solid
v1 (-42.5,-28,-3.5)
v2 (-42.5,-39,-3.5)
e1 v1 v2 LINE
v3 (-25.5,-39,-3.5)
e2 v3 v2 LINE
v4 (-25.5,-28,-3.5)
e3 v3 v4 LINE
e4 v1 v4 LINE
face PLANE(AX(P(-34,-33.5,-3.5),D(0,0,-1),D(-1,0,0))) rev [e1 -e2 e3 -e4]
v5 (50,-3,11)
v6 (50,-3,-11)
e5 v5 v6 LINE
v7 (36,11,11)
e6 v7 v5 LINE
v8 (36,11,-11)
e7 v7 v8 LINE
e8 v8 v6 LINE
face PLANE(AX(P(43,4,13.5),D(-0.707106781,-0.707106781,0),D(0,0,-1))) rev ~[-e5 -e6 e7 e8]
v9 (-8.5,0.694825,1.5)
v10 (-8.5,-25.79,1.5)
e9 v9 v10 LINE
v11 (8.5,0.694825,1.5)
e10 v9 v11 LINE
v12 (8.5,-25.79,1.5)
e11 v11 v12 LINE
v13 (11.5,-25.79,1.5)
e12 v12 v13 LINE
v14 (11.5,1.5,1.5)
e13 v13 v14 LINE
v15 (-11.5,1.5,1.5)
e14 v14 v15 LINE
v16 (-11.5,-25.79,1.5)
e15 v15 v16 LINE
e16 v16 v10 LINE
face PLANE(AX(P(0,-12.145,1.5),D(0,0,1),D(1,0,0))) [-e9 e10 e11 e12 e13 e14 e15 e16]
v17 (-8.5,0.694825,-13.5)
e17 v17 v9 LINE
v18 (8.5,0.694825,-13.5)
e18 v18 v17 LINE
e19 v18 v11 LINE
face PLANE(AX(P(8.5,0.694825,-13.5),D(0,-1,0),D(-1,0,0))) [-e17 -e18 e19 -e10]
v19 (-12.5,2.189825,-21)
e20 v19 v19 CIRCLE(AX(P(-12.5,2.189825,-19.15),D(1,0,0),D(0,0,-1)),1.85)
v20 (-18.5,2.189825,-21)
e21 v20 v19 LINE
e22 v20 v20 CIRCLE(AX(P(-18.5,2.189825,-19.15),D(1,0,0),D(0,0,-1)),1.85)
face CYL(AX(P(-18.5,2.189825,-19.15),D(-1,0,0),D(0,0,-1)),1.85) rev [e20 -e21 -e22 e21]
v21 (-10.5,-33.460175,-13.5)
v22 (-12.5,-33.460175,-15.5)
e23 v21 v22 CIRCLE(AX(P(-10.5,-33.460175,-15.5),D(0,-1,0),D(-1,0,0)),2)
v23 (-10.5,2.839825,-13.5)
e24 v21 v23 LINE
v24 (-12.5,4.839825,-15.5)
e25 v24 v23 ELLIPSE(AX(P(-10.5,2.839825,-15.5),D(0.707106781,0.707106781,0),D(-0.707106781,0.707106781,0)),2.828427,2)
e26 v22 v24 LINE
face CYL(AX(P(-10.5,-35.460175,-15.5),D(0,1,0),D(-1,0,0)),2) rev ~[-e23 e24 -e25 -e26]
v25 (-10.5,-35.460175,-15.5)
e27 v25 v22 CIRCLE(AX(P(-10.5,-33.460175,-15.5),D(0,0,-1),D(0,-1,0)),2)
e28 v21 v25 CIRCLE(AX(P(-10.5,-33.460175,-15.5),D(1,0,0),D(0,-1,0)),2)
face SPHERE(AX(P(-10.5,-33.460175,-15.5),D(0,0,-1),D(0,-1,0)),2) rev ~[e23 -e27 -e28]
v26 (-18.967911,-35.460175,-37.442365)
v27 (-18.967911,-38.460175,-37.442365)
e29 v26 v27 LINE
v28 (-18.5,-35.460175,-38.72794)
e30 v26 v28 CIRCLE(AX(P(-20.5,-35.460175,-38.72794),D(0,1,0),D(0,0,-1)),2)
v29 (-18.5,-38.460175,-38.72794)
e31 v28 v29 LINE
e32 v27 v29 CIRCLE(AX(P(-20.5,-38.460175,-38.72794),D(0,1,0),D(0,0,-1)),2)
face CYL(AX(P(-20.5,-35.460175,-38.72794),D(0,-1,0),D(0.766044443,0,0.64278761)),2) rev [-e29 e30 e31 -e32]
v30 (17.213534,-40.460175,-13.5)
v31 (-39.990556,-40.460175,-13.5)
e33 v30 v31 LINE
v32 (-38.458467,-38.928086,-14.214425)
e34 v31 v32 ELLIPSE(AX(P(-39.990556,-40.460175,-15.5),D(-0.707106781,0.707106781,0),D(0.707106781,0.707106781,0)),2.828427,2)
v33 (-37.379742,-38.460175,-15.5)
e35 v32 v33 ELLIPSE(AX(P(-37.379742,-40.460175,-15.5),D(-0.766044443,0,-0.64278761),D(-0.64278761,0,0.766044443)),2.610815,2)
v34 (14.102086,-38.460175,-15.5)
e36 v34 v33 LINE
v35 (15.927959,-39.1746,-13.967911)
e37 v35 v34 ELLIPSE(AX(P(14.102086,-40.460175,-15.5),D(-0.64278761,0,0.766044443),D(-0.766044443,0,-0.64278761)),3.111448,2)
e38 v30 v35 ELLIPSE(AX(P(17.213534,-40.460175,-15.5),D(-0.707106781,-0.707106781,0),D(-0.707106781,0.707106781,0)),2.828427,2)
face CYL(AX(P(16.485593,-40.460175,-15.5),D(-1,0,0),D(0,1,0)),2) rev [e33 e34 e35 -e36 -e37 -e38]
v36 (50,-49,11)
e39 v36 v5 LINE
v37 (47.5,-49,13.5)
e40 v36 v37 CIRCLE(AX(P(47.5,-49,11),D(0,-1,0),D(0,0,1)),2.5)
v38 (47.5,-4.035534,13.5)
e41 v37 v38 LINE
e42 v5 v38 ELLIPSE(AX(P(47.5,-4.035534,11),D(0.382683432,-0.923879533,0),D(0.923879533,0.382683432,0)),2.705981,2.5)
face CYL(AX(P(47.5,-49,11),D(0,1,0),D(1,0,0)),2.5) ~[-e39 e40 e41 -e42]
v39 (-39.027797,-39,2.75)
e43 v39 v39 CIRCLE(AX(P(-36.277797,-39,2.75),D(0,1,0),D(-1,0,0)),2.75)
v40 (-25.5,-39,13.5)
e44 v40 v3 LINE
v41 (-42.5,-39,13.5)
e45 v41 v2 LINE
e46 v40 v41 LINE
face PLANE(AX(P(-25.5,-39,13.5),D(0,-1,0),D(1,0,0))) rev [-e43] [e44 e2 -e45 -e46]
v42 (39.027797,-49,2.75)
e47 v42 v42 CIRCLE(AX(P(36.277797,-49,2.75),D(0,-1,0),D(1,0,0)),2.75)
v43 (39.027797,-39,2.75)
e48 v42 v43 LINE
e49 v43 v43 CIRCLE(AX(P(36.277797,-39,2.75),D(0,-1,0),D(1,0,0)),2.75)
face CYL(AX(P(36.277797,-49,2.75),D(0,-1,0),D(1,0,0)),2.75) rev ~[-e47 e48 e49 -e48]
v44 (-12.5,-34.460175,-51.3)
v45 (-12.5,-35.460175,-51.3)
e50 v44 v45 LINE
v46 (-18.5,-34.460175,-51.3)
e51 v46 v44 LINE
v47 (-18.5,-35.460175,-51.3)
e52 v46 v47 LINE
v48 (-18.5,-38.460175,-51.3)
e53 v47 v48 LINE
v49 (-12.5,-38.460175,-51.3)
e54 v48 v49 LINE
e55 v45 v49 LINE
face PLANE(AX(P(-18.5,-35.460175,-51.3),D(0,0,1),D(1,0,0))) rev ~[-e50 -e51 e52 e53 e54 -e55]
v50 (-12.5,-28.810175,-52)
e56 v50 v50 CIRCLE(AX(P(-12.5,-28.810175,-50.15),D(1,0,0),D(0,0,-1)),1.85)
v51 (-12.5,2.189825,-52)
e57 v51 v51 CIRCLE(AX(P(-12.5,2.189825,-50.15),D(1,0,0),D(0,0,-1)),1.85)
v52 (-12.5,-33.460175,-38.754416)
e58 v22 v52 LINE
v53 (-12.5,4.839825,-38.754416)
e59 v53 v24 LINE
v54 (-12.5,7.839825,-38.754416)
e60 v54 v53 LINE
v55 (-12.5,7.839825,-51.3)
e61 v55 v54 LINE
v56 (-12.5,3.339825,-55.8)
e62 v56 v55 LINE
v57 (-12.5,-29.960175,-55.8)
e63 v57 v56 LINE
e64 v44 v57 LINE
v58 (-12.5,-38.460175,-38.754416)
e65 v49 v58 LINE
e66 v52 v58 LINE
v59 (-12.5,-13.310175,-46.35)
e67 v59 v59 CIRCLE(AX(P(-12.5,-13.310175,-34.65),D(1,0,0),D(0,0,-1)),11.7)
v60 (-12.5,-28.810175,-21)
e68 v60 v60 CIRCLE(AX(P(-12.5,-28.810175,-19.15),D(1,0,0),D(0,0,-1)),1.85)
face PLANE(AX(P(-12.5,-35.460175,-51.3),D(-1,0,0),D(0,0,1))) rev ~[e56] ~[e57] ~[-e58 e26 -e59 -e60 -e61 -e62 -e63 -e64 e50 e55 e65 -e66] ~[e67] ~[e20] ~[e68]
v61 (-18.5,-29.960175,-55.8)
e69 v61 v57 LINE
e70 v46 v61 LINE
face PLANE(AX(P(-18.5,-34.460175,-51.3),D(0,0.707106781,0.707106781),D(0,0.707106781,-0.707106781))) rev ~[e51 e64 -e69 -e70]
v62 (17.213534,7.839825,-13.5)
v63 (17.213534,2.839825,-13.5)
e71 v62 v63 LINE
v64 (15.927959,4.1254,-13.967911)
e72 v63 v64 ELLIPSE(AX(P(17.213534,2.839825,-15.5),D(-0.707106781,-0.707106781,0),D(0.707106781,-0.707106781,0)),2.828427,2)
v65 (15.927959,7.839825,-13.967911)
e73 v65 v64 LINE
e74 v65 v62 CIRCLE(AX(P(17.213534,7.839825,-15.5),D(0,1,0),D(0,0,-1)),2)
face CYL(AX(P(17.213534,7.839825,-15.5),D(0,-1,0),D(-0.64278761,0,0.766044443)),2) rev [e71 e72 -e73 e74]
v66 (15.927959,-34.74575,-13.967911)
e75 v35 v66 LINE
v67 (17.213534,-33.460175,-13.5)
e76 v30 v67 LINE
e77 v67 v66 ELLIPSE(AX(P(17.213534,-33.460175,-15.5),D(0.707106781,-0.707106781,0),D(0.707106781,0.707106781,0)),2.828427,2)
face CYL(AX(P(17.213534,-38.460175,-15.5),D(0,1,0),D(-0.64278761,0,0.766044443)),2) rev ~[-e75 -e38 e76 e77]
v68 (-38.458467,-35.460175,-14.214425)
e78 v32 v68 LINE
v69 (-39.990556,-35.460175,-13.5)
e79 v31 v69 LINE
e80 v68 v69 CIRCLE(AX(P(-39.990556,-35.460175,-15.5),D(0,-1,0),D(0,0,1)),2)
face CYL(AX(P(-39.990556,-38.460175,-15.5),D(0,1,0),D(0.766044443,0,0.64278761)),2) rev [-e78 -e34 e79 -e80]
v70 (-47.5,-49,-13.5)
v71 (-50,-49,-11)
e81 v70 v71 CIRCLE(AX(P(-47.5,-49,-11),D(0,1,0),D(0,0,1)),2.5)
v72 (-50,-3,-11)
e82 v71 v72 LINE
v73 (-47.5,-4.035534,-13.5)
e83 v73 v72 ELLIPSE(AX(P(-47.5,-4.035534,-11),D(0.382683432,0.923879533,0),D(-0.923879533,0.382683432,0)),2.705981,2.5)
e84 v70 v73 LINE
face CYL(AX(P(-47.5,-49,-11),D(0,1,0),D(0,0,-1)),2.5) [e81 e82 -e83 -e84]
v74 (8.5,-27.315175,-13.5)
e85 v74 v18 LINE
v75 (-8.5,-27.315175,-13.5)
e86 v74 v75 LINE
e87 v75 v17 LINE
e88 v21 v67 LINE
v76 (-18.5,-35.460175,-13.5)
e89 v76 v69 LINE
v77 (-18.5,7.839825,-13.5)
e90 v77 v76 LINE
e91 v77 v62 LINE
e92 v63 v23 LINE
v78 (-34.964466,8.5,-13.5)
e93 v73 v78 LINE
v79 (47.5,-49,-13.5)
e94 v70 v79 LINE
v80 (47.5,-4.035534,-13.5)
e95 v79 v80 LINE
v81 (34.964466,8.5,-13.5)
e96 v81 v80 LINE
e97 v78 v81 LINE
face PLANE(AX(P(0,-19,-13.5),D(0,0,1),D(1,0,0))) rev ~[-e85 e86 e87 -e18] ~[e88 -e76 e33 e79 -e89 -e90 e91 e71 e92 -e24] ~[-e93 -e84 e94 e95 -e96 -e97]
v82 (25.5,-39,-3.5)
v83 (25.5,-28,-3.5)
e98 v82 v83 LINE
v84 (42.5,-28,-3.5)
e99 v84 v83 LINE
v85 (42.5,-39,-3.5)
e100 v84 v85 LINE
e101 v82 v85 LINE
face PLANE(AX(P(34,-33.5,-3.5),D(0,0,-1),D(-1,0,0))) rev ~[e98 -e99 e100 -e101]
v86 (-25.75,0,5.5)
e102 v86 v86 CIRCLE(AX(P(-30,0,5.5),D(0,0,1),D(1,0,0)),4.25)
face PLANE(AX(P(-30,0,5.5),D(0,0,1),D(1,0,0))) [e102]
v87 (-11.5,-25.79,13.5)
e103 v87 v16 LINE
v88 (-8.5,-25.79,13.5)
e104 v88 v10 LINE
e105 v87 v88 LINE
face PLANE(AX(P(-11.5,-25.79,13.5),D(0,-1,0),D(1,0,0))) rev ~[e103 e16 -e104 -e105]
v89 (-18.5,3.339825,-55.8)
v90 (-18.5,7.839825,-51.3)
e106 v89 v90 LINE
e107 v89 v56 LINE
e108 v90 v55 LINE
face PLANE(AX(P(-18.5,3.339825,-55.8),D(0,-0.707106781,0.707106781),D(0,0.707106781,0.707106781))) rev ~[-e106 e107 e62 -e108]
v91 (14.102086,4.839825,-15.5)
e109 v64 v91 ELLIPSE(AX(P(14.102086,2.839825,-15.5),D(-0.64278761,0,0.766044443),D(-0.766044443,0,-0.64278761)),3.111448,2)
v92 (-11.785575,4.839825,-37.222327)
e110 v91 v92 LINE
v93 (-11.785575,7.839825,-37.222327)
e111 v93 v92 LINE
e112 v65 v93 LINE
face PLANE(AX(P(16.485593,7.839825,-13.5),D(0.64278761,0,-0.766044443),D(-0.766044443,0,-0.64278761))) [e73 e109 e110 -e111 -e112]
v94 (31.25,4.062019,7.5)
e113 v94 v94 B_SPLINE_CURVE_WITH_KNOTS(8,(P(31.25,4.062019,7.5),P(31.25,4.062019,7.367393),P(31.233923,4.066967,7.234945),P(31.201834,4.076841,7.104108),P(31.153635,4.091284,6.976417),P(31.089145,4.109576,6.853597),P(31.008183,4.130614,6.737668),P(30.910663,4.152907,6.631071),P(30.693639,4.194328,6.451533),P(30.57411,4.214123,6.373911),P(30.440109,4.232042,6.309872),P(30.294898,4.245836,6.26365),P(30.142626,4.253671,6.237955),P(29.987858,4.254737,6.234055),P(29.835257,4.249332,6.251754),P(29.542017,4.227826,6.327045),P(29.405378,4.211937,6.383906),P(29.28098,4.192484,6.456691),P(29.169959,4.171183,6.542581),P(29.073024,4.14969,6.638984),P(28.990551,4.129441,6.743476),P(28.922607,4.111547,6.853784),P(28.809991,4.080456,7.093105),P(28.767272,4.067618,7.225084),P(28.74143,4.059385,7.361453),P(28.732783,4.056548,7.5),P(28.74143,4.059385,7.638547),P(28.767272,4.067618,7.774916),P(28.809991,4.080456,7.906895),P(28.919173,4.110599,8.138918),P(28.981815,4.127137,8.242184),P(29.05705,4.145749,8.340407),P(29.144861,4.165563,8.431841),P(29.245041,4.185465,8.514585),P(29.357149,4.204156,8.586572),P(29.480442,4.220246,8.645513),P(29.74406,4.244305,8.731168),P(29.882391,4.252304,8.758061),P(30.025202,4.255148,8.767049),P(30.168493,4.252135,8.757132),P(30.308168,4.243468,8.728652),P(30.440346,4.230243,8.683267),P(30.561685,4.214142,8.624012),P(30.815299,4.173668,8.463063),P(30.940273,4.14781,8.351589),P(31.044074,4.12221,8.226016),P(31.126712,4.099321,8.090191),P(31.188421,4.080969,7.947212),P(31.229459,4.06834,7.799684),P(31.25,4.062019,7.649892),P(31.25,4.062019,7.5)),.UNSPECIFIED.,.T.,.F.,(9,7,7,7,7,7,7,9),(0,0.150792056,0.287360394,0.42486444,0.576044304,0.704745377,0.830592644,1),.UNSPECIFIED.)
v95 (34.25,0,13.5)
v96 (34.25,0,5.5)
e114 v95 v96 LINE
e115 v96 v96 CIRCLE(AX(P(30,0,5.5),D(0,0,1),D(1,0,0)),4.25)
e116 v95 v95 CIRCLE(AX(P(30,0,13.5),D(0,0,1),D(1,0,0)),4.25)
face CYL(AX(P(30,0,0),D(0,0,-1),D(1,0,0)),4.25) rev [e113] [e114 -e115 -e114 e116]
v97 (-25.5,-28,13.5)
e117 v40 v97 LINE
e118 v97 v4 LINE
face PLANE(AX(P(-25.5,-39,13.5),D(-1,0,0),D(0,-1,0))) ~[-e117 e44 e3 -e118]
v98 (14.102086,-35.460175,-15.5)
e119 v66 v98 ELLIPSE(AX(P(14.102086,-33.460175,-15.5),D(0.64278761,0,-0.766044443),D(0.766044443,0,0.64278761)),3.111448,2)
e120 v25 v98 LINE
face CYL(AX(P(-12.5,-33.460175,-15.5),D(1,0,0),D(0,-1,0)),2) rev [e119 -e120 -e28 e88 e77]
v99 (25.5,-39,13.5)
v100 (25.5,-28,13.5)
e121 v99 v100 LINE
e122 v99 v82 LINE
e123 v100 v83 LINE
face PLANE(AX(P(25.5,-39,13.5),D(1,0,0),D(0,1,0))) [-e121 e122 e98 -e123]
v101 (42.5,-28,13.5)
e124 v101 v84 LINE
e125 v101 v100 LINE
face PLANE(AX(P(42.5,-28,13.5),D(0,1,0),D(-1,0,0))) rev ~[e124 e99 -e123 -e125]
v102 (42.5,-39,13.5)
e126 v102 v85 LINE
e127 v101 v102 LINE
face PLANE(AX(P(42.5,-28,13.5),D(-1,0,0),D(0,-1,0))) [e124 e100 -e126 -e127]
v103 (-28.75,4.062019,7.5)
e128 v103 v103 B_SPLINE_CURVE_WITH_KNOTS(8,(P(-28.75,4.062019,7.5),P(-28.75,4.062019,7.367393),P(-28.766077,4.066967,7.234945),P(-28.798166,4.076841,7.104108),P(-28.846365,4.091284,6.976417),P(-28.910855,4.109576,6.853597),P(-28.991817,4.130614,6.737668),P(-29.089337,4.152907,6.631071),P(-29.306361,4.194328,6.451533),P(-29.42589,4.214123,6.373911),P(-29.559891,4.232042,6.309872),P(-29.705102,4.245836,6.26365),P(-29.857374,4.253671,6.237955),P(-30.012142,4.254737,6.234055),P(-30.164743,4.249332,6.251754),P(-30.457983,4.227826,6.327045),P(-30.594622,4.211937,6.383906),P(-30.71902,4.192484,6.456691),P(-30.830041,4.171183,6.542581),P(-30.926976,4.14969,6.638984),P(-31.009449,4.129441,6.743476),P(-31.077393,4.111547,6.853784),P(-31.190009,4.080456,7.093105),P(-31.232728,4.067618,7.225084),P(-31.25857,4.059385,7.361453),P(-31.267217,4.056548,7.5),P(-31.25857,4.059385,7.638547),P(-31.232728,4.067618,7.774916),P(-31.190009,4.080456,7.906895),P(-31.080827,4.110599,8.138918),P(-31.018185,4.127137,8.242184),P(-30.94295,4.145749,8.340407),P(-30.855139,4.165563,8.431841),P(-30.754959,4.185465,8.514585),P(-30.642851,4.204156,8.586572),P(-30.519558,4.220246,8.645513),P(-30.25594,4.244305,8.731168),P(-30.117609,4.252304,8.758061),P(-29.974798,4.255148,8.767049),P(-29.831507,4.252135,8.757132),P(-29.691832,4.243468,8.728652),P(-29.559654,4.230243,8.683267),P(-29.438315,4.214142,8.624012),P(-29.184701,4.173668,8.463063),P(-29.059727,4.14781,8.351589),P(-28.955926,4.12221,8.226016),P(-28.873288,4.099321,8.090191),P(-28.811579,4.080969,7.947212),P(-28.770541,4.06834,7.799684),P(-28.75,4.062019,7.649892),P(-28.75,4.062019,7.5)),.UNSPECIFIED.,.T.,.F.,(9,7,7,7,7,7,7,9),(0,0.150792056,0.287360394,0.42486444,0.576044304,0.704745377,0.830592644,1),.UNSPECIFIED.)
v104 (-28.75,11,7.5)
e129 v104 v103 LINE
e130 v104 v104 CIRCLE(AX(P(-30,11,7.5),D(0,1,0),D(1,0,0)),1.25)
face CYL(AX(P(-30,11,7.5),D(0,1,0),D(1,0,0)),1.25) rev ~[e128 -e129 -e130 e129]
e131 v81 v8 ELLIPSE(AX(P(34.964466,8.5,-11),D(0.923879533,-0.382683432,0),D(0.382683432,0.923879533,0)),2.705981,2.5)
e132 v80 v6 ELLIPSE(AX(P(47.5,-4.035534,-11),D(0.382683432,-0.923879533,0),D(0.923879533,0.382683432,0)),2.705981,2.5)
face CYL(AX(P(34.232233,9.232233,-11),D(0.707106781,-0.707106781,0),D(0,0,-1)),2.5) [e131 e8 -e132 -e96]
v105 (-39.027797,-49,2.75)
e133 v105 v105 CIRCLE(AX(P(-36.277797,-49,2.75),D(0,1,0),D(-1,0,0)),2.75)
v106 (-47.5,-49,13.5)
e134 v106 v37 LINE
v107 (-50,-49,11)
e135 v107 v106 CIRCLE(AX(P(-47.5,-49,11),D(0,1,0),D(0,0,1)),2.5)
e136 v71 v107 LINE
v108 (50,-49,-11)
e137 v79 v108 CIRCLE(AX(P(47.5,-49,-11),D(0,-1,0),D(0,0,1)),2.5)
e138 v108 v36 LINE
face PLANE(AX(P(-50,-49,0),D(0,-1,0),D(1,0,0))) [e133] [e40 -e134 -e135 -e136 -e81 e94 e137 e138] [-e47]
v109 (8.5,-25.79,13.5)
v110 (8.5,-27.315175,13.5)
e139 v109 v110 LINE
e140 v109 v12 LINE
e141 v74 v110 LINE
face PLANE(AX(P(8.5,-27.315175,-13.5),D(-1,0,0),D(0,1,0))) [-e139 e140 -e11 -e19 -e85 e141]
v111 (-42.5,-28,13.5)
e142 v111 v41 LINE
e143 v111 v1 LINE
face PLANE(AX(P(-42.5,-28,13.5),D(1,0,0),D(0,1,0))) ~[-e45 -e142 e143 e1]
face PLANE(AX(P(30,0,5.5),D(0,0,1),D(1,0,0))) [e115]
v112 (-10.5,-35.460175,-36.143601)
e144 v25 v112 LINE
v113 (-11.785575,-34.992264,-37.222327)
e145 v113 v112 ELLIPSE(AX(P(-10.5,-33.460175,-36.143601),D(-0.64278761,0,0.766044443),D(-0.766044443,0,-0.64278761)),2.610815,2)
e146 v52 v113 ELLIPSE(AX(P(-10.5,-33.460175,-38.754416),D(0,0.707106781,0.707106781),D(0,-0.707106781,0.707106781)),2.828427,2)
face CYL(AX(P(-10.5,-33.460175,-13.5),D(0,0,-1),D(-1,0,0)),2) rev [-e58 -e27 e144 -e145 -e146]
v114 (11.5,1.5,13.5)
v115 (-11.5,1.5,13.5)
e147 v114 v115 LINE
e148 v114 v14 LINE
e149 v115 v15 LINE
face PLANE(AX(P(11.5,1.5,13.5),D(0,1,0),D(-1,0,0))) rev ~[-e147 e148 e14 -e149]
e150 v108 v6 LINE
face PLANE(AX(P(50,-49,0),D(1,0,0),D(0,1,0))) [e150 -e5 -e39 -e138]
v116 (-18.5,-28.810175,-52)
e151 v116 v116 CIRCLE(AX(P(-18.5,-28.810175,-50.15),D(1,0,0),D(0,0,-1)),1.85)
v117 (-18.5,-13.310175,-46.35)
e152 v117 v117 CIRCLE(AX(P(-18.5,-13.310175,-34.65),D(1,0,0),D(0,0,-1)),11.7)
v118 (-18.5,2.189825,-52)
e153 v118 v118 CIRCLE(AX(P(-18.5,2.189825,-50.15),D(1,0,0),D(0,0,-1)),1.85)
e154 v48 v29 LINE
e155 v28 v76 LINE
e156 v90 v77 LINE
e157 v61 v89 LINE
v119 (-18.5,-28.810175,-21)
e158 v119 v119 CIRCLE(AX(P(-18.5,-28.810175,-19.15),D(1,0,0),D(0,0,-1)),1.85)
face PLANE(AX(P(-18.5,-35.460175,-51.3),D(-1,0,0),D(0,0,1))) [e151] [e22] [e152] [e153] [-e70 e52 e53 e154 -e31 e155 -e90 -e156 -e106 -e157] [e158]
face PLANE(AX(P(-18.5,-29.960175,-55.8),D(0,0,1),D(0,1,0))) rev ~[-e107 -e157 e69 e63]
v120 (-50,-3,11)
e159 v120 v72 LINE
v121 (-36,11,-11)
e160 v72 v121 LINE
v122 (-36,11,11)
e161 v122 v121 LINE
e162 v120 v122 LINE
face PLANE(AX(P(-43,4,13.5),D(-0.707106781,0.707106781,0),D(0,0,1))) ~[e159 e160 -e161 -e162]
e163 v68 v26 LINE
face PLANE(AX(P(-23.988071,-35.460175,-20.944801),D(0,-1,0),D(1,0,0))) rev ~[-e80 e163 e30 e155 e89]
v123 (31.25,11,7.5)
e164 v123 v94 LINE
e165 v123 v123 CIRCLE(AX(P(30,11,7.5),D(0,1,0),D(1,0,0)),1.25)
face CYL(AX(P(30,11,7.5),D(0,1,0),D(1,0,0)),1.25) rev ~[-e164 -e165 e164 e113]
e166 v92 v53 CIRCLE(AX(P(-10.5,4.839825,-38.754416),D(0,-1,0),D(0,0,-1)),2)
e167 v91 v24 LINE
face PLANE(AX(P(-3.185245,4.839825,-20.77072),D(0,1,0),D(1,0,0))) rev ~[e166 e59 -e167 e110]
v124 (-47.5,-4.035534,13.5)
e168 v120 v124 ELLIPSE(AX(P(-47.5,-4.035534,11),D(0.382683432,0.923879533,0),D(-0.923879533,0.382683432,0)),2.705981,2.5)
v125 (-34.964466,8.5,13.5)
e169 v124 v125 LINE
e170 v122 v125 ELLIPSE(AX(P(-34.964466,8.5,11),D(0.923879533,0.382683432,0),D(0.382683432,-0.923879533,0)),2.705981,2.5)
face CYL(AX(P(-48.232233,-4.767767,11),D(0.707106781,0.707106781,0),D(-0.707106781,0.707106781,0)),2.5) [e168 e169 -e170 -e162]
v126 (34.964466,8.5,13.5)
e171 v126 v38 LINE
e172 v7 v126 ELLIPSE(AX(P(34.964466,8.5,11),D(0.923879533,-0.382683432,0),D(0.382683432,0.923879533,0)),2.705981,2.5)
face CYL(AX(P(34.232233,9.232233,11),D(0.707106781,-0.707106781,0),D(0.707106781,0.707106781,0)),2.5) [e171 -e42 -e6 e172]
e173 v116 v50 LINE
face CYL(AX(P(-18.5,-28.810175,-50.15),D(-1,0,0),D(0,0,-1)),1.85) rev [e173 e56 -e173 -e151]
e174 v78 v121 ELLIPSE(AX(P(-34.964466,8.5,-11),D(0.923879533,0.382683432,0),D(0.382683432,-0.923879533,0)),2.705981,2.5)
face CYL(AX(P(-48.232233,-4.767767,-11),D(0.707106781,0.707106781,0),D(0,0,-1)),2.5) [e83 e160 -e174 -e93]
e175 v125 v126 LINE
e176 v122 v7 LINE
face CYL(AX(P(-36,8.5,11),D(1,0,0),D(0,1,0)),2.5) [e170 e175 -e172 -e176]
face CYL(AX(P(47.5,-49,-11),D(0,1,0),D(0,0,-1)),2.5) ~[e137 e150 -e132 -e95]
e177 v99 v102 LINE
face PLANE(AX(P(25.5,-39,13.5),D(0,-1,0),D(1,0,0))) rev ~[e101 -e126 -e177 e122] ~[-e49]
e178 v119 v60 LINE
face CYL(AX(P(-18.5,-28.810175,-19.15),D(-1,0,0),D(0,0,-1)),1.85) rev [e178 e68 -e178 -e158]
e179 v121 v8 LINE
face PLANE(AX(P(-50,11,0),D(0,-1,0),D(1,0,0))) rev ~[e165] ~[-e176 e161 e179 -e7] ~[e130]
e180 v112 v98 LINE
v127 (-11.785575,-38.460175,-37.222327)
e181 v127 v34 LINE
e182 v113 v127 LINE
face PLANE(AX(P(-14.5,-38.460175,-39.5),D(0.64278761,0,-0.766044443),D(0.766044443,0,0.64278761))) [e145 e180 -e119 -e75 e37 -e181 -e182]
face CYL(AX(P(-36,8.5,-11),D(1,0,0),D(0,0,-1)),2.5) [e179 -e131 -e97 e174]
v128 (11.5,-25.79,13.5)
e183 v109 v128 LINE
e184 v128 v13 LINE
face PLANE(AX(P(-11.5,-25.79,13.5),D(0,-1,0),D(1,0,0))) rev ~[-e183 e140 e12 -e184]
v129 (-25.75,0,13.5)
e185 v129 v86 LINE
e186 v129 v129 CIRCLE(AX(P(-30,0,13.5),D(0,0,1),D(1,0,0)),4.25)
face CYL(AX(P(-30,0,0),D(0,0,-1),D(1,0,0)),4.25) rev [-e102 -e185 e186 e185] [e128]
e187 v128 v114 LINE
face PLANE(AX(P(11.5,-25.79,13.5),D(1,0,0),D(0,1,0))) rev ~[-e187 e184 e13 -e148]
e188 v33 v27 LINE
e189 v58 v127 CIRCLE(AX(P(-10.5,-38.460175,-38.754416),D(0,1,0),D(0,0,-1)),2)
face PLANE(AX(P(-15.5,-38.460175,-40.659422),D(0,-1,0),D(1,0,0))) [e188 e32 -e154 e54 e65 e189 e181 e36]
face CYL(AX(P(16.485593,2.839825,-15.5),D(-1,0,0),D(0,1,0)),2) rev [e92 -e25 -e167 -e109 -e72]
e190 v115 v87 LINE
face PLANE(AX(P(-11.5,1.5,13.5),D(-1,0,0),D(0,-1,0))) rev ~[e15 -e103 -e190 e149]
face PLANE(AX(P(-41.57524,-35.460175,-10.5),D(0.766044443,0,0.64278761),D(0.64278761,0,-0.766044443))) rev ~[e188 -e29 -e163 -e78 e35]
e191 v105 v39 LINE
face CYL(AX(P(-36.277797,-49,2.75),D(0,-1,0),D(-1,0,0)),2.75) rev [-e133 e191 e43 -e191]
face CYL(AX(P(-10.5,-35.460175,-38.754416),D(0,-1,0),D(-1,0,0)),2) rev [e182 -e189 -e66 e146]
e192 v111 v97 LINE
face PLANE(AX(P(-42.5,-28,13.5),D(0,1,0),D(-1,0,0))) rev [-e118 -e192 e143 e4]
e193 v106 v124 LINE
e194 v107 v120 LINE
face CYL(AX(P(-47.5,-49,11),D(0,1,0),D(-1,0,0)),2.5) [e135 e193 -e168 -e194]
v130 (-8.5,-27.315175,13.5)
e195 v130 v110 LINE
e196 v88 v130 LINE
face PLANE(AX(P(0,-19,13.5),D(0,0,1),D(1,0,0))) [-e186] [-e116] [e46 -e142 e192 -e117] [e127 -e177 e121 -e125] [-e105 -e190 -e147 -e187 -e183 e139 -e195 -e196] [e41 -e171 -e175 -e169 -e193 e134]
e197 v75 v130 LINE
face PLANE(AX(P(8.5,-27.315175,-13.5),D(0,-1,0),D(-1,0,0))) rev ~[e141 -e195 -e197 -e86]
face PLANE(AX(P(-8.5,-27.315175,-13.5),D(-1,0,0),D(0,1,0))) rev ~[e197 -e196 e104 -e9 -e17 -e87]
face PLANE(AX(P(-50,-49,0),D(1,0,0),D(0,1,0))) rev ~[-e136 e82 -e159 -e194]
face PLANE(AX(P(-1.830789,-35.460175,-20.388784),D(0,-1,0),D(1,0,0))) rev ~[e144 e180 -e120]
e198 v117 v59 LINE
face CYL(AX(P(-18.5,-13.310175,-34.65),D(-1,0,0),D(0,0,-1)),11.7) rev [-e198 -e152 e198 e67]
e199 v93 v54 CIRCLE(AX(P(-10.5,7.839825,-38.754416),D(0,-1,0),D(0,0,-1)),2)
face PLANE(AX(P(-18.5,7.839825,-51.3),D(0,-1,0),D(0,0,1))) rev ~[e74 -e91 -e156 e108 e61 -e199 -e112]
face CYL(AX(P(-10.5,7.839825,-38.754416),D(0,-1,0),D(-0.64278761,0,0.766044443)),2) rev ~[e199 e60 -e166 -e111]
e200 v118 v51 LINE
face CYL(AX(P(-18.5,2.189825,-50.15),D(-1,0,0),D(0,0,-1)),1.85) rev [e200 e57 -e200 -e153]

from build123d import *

# Parameters (mm, degrees)
SKETCH1_W            = 100
SKETCH1_H            = 60
SKETCH1_R            = 4.25
BOSS_EXTRUDE1_DEPTH  = 13.5
SKETCH2_R            = 7
BOSS_EXTRUDE2_DEPTH  = 10
CHAMFER1_SIZE        = 14
FILLET1_R            = 2.5
CUT_EXTRUDE1_DEPTH   = 12
SKETCH5_R            = 1.25
CUT_EXTRUDE2_DEPTH   = 12
SKETCH6_R            = 2.75
CUT_EXTRUDE3_DEPTH   = 10
CUT_EXTRUDE4_DEPTH   = 17
SKETCH11_W           = 17
SKETCH11_H           = 28.01
CUT_EXTRUDE5_DEPTH   = 28.0000001
SKETCH13_R           = 4.25
BOSS_EXTRUDE6_DEPTH  = 9
SKETCH14_R           = 1.85
SKETCH14_R_2         = 11.7
BOSS_EXTRUDE7_DEPTH  = 6
BOSS_EXTRUDE8_START  = 4
BOSS_EXTRUDE8_DEPTH  = 3
SKETCH17_W           = 6
SKETCH17_H           = 42.718705864
BOSS_EXTRUDE9_DEPTH  = 1
BOSS_EXTRUDE12_DEPTH = 3
SKETCH19_W           = 6
SKETCH19_H           = 24.5
BOSS_EXTRUDE13_DEPTH = 6
SKETCH21_W           = 6
SKETCH21_H           = 21.281155669
BOSS_EXTRUDE14_DEPTH = 3
BOSS_EXTRUDE15_DEPTH = 3
FILLET3_R            = 2


with BuildPart() as part:
    # Sketch1 → Boss-Extrude1 (new body, symmetric)
    with BuildSketch(Plane.XY):
        with Locations((0, -19)):
            Rectangle(SKETCH1_W, SKETCH1_H)
        with Locations((30, 0)):
            Circle(SKETCH1_R, mode=Mode.SUBTRACT)
        with Locations((-30, 0)):
            Circle(SKETCH1_R, mode=Mode.SUBTRACT)
    extrude(amount=BOSS_EXTRUDE1_DEPTH, both=True)

    # Sketch2 → Boss-Extrude2 (add)
    with BuildSketch(Plane(origin=(0, 0, -13.5), x_dir=(-1, 0, 0), z_dir=(0, 0, -1))):
        with Locations((-30, 0)):
            Circle(SKETCH2_R)
        with Locations((30, 0)):
            Circle(SKETCH2_R)
    extrude(amount=-BOSS_EXTRUDE2_DEPTH)

    # Chamfer1
    chamfer1_edges = [part.edges().sort_by_distance(p)[0] for p in [
        (-50, 11, 0),
        (50, 11, 0),
    ]]
    chamfer(chamfer1_edges, length=CHAMFER1_SIZE)

    # Fillet1
    fillet1_edges = [part.edges().sort_by_distance(p)[0] for p in [
        (-50, -26, -13.5),
        (-50, -26, 13.5),
        (0, 11, -13.5),
        (43, 4, -13.5),
        (-43, 4, -13.5),
        (0, 11, 13.5),
        (50, -26, 13.5),
        (43, 4, 13.5),
        (-43, 4, 13.5),
        (50, -26, -13.5),
    ]]
    fillet(fillet1_edges, radius=FILLET1_R)

    # Sketch3 → Cut-Extrude1 (cut)
    with BuildSketch(Plane.XY.offset(13.5)):
        Polygon((11.5, 1.5), (-11.5, 1.5), (-11.5, -14.75), (-11.5, -25.79), (11.5, -25.79), (11.5, -14.75), align=None)
    extrude(amount=-CUT_EXTRUDE1_DEPTH, mode=Mode.SUBTRACT)

    # Sketch5 → Cut-Extrude2 (cut)
    with BuildSketch(Plane(origin=(0, 11, 0), x_dir=(1, 0, 0), z_dir=(0, 1, 0))):
        with Locations((30, -7.5)):
            Circle(SKETCH5_R)
        with Locations((-30, -7.5)):
            Circle(SKETCH5_R)
    extrude(amount=-CUT_EXTRUDE2_DEPTH, mode=Mode.SUBTRACT)

    # Sketch6 → Cut-Extrude3 (cut)
    with BuildSketch(Plane.XZ.offset(49)):
        with Locations((36.277796695, 2.75)):
            Circle(SKETCH6_R)
    cut_extrude3 = extrude(amount=-CUT_EXTRUDE3_DEPTH, mode=Mode.SUBTRACT)

    # Sketch7 → Cut-Extrude4 (cut)
    with BuildSketch(Plane.XY.offset(13.5)):
        Polygon((42.5, -39), (30.5, -39), (25.5, -39), (25.5, -28), (30.5, -28), (42.5, -28), align=None)
    cut_extrude4 = extrude(amount=-CUT_EXTRUDE4_DEPTH, mode=Mode.SUBTRACT)

    # Mirror1: Cut-Extrude3, Cut-Extrude4 across plane
    add(cut_extrude3.mirror(Plane(origin=(0, 0, 0), x_dir=(0, 0, 1), z_dir=(1, 0, 0))), mode=Mode.SUBTRACT)
    add(cut_extrude4.mirror(Plane(origin=(0, 0, 0), x_dir=(0, 0, 1), z_dir=(1, 0, 0))), mode=Mode.SUBTRACT)

    # Sketch11 → Cut-Extrude5 (cut, through all)
    with BuildSketch(Plane(origin=(0, 0, -13.5), x_dir=(-1, 0, 0), z_dir=(0, 0, -1))):
        with Locations((0, -13.310174912)):
            Rectangle(SKETCH11_W, SKETCH11_H)
    extrude(amount=-CUT_EXTRUDE5_DEPTH, mode=Mode.SUBTRACT)

    # Sketch13 → Boss-Extrude6 (add)
    with BuildSketch(Plane.XY.offset(-3.5)):
        with Locations((30, 0)):
            Circle(SKETCH13_R)
        with Locations((-30, 0)):
            Circle(SKETCH13_R)
    extrude(amount=BOSS_EXTRUDE6_DEPTH)

    # Sketch14 → Boss-Extrude7 (add)
    with BuildSketch(Plane(origin=(-18.5, 0, 0), x_dir=(0, 0, -1), z_dir=(1, 0, 0))):
        Polygon((55.8, -29.960174912), (55.8, 3.339825088), (51.3, 7.839825088), (18, 7.839825088), (11, 7.839825088), (11, -34.460174912), (18, -34.460174912), (51.3, -34.460174912), align=None)
        with Locations((50.15, -28.810174912)):
            Circle(SKETCH14_R, mode=Mode.SUBTRACT)
        with Locations((50.15, 2.189825088)):
            Circle(SKETCH14_R, mode=Mode.SUBTRACT)
        with Locations((19.15, 2.189825088)):
            Circle(SKETCH14_R, mode=Mode.SUBTRACT)
        with Locations((19.15, -28.810174912)):
            Circle(SKETCH14_R, mode=Mode.SUBTRACT)
        with Locations((34.65, -13.310174912)):
            Circle(SKETCH14_R_2, mode=Mode.SUBTRACT)
    extrude(amount=BOSS_EXTRUDE7_DEPTH)

    # Sketch15 → Boss-Extrude8 (add)
    with BuildSketch(Plane.XZ.offset(34.460174912).offset(BOSS_EXTRUDE8_START)):
        Polygon((-14.5, -39.5), (20.060854185, -10.5), (-14.5, -10.5), align=None)
    extrude(amount=-BOSS_EXTRUDE8_DEPTH)

    # Sketch17 → Boss-Extrude9 (add)
    with BuildSketch(Plane.XZ.offset(34.460174912)):
        with Locations((-15.5, -29.940647068)):
            Rectangle(SKETCH17_W, SKETCH17_H)
    extrude(amount=BOSS_EXTRUDE9_DEPTH)

    # Sketch18 → Boss-Extrude12 (add)
    with BuildSketch(Plane.XZ.offset(35.460174912)):
        Polygon((-18.5, -10.5), (-41.575239857, -10.5), (-18.5, -38), (-13.739171521, -38), (-13.739171521, -10.5), align=None)
    extrude(amount=BOSS_EXTRUDE12_DEPTH)

    # Sketch19 → Boss-Extrude13 (add)
    with BuildSketch(Plane.XZ.offset(38.460174912)):
        with Locations((-15.5, -25.75)):
            Rectangle(SKETCH19_W, SKETCH19_H)
    extrude(amount=-BOSS_EXTRUDE13_DEPTH)

    # Sketch21 → Boss-Extrude14 (add)
    with BuildSketch(Plane.XZ.offset(35.460174912)):
        with Locations((-15.5, -40.659422166)):
            Rectangle(SKETCH21_W, SKETCH21_H)
    extrude(amount=BOSS_EXTRUDE14_DEPTH)

    # Sketch22 → Boss-Extrude15 (add)
    with BuildSketch(Plane(origin=(0, 7.839825088, 0), x_dir=(1, 0, 0), z_dir=(0, 1, 0))):
        Polygon((-12.5, 37.821800738), (-15.5, 37.821800738), (-15.5, 11), (-12.5, 11), (16.485593407, 11), (16.485593407, 13.5), align=None)
    extrude(amount=-BOSS_EXTRUDE15_DEPTH)

    # Fillet3
    fillet3_edges = [part.edges().sort_by_distance(p)[0] for p in [
        (-12.5, 6.339825088, -37.821800738),
        (-39.057940964, -36.960174912, -13.5),
        (-18.5, -36.960174912, -38),
        (16.485593407, 6.339825088, -13.5),
        (16.485593407, -36.960174912, -13.5),
        (-12.5, -36.960174912, -37.821800738),
        (-11.286173778, -38.460174912, -13.5),
        (-12.5, -35.460174912, -25.660900369),
        (1.992796704, -35.460174912, -13.5),
        (-12.5, -15.310174912, -13.5),
        (1.992796704, 4.839825088, -13.5),
    ]]
    fillet(fillet3_edges, radius=FILLET3_R)


solid = part.part
